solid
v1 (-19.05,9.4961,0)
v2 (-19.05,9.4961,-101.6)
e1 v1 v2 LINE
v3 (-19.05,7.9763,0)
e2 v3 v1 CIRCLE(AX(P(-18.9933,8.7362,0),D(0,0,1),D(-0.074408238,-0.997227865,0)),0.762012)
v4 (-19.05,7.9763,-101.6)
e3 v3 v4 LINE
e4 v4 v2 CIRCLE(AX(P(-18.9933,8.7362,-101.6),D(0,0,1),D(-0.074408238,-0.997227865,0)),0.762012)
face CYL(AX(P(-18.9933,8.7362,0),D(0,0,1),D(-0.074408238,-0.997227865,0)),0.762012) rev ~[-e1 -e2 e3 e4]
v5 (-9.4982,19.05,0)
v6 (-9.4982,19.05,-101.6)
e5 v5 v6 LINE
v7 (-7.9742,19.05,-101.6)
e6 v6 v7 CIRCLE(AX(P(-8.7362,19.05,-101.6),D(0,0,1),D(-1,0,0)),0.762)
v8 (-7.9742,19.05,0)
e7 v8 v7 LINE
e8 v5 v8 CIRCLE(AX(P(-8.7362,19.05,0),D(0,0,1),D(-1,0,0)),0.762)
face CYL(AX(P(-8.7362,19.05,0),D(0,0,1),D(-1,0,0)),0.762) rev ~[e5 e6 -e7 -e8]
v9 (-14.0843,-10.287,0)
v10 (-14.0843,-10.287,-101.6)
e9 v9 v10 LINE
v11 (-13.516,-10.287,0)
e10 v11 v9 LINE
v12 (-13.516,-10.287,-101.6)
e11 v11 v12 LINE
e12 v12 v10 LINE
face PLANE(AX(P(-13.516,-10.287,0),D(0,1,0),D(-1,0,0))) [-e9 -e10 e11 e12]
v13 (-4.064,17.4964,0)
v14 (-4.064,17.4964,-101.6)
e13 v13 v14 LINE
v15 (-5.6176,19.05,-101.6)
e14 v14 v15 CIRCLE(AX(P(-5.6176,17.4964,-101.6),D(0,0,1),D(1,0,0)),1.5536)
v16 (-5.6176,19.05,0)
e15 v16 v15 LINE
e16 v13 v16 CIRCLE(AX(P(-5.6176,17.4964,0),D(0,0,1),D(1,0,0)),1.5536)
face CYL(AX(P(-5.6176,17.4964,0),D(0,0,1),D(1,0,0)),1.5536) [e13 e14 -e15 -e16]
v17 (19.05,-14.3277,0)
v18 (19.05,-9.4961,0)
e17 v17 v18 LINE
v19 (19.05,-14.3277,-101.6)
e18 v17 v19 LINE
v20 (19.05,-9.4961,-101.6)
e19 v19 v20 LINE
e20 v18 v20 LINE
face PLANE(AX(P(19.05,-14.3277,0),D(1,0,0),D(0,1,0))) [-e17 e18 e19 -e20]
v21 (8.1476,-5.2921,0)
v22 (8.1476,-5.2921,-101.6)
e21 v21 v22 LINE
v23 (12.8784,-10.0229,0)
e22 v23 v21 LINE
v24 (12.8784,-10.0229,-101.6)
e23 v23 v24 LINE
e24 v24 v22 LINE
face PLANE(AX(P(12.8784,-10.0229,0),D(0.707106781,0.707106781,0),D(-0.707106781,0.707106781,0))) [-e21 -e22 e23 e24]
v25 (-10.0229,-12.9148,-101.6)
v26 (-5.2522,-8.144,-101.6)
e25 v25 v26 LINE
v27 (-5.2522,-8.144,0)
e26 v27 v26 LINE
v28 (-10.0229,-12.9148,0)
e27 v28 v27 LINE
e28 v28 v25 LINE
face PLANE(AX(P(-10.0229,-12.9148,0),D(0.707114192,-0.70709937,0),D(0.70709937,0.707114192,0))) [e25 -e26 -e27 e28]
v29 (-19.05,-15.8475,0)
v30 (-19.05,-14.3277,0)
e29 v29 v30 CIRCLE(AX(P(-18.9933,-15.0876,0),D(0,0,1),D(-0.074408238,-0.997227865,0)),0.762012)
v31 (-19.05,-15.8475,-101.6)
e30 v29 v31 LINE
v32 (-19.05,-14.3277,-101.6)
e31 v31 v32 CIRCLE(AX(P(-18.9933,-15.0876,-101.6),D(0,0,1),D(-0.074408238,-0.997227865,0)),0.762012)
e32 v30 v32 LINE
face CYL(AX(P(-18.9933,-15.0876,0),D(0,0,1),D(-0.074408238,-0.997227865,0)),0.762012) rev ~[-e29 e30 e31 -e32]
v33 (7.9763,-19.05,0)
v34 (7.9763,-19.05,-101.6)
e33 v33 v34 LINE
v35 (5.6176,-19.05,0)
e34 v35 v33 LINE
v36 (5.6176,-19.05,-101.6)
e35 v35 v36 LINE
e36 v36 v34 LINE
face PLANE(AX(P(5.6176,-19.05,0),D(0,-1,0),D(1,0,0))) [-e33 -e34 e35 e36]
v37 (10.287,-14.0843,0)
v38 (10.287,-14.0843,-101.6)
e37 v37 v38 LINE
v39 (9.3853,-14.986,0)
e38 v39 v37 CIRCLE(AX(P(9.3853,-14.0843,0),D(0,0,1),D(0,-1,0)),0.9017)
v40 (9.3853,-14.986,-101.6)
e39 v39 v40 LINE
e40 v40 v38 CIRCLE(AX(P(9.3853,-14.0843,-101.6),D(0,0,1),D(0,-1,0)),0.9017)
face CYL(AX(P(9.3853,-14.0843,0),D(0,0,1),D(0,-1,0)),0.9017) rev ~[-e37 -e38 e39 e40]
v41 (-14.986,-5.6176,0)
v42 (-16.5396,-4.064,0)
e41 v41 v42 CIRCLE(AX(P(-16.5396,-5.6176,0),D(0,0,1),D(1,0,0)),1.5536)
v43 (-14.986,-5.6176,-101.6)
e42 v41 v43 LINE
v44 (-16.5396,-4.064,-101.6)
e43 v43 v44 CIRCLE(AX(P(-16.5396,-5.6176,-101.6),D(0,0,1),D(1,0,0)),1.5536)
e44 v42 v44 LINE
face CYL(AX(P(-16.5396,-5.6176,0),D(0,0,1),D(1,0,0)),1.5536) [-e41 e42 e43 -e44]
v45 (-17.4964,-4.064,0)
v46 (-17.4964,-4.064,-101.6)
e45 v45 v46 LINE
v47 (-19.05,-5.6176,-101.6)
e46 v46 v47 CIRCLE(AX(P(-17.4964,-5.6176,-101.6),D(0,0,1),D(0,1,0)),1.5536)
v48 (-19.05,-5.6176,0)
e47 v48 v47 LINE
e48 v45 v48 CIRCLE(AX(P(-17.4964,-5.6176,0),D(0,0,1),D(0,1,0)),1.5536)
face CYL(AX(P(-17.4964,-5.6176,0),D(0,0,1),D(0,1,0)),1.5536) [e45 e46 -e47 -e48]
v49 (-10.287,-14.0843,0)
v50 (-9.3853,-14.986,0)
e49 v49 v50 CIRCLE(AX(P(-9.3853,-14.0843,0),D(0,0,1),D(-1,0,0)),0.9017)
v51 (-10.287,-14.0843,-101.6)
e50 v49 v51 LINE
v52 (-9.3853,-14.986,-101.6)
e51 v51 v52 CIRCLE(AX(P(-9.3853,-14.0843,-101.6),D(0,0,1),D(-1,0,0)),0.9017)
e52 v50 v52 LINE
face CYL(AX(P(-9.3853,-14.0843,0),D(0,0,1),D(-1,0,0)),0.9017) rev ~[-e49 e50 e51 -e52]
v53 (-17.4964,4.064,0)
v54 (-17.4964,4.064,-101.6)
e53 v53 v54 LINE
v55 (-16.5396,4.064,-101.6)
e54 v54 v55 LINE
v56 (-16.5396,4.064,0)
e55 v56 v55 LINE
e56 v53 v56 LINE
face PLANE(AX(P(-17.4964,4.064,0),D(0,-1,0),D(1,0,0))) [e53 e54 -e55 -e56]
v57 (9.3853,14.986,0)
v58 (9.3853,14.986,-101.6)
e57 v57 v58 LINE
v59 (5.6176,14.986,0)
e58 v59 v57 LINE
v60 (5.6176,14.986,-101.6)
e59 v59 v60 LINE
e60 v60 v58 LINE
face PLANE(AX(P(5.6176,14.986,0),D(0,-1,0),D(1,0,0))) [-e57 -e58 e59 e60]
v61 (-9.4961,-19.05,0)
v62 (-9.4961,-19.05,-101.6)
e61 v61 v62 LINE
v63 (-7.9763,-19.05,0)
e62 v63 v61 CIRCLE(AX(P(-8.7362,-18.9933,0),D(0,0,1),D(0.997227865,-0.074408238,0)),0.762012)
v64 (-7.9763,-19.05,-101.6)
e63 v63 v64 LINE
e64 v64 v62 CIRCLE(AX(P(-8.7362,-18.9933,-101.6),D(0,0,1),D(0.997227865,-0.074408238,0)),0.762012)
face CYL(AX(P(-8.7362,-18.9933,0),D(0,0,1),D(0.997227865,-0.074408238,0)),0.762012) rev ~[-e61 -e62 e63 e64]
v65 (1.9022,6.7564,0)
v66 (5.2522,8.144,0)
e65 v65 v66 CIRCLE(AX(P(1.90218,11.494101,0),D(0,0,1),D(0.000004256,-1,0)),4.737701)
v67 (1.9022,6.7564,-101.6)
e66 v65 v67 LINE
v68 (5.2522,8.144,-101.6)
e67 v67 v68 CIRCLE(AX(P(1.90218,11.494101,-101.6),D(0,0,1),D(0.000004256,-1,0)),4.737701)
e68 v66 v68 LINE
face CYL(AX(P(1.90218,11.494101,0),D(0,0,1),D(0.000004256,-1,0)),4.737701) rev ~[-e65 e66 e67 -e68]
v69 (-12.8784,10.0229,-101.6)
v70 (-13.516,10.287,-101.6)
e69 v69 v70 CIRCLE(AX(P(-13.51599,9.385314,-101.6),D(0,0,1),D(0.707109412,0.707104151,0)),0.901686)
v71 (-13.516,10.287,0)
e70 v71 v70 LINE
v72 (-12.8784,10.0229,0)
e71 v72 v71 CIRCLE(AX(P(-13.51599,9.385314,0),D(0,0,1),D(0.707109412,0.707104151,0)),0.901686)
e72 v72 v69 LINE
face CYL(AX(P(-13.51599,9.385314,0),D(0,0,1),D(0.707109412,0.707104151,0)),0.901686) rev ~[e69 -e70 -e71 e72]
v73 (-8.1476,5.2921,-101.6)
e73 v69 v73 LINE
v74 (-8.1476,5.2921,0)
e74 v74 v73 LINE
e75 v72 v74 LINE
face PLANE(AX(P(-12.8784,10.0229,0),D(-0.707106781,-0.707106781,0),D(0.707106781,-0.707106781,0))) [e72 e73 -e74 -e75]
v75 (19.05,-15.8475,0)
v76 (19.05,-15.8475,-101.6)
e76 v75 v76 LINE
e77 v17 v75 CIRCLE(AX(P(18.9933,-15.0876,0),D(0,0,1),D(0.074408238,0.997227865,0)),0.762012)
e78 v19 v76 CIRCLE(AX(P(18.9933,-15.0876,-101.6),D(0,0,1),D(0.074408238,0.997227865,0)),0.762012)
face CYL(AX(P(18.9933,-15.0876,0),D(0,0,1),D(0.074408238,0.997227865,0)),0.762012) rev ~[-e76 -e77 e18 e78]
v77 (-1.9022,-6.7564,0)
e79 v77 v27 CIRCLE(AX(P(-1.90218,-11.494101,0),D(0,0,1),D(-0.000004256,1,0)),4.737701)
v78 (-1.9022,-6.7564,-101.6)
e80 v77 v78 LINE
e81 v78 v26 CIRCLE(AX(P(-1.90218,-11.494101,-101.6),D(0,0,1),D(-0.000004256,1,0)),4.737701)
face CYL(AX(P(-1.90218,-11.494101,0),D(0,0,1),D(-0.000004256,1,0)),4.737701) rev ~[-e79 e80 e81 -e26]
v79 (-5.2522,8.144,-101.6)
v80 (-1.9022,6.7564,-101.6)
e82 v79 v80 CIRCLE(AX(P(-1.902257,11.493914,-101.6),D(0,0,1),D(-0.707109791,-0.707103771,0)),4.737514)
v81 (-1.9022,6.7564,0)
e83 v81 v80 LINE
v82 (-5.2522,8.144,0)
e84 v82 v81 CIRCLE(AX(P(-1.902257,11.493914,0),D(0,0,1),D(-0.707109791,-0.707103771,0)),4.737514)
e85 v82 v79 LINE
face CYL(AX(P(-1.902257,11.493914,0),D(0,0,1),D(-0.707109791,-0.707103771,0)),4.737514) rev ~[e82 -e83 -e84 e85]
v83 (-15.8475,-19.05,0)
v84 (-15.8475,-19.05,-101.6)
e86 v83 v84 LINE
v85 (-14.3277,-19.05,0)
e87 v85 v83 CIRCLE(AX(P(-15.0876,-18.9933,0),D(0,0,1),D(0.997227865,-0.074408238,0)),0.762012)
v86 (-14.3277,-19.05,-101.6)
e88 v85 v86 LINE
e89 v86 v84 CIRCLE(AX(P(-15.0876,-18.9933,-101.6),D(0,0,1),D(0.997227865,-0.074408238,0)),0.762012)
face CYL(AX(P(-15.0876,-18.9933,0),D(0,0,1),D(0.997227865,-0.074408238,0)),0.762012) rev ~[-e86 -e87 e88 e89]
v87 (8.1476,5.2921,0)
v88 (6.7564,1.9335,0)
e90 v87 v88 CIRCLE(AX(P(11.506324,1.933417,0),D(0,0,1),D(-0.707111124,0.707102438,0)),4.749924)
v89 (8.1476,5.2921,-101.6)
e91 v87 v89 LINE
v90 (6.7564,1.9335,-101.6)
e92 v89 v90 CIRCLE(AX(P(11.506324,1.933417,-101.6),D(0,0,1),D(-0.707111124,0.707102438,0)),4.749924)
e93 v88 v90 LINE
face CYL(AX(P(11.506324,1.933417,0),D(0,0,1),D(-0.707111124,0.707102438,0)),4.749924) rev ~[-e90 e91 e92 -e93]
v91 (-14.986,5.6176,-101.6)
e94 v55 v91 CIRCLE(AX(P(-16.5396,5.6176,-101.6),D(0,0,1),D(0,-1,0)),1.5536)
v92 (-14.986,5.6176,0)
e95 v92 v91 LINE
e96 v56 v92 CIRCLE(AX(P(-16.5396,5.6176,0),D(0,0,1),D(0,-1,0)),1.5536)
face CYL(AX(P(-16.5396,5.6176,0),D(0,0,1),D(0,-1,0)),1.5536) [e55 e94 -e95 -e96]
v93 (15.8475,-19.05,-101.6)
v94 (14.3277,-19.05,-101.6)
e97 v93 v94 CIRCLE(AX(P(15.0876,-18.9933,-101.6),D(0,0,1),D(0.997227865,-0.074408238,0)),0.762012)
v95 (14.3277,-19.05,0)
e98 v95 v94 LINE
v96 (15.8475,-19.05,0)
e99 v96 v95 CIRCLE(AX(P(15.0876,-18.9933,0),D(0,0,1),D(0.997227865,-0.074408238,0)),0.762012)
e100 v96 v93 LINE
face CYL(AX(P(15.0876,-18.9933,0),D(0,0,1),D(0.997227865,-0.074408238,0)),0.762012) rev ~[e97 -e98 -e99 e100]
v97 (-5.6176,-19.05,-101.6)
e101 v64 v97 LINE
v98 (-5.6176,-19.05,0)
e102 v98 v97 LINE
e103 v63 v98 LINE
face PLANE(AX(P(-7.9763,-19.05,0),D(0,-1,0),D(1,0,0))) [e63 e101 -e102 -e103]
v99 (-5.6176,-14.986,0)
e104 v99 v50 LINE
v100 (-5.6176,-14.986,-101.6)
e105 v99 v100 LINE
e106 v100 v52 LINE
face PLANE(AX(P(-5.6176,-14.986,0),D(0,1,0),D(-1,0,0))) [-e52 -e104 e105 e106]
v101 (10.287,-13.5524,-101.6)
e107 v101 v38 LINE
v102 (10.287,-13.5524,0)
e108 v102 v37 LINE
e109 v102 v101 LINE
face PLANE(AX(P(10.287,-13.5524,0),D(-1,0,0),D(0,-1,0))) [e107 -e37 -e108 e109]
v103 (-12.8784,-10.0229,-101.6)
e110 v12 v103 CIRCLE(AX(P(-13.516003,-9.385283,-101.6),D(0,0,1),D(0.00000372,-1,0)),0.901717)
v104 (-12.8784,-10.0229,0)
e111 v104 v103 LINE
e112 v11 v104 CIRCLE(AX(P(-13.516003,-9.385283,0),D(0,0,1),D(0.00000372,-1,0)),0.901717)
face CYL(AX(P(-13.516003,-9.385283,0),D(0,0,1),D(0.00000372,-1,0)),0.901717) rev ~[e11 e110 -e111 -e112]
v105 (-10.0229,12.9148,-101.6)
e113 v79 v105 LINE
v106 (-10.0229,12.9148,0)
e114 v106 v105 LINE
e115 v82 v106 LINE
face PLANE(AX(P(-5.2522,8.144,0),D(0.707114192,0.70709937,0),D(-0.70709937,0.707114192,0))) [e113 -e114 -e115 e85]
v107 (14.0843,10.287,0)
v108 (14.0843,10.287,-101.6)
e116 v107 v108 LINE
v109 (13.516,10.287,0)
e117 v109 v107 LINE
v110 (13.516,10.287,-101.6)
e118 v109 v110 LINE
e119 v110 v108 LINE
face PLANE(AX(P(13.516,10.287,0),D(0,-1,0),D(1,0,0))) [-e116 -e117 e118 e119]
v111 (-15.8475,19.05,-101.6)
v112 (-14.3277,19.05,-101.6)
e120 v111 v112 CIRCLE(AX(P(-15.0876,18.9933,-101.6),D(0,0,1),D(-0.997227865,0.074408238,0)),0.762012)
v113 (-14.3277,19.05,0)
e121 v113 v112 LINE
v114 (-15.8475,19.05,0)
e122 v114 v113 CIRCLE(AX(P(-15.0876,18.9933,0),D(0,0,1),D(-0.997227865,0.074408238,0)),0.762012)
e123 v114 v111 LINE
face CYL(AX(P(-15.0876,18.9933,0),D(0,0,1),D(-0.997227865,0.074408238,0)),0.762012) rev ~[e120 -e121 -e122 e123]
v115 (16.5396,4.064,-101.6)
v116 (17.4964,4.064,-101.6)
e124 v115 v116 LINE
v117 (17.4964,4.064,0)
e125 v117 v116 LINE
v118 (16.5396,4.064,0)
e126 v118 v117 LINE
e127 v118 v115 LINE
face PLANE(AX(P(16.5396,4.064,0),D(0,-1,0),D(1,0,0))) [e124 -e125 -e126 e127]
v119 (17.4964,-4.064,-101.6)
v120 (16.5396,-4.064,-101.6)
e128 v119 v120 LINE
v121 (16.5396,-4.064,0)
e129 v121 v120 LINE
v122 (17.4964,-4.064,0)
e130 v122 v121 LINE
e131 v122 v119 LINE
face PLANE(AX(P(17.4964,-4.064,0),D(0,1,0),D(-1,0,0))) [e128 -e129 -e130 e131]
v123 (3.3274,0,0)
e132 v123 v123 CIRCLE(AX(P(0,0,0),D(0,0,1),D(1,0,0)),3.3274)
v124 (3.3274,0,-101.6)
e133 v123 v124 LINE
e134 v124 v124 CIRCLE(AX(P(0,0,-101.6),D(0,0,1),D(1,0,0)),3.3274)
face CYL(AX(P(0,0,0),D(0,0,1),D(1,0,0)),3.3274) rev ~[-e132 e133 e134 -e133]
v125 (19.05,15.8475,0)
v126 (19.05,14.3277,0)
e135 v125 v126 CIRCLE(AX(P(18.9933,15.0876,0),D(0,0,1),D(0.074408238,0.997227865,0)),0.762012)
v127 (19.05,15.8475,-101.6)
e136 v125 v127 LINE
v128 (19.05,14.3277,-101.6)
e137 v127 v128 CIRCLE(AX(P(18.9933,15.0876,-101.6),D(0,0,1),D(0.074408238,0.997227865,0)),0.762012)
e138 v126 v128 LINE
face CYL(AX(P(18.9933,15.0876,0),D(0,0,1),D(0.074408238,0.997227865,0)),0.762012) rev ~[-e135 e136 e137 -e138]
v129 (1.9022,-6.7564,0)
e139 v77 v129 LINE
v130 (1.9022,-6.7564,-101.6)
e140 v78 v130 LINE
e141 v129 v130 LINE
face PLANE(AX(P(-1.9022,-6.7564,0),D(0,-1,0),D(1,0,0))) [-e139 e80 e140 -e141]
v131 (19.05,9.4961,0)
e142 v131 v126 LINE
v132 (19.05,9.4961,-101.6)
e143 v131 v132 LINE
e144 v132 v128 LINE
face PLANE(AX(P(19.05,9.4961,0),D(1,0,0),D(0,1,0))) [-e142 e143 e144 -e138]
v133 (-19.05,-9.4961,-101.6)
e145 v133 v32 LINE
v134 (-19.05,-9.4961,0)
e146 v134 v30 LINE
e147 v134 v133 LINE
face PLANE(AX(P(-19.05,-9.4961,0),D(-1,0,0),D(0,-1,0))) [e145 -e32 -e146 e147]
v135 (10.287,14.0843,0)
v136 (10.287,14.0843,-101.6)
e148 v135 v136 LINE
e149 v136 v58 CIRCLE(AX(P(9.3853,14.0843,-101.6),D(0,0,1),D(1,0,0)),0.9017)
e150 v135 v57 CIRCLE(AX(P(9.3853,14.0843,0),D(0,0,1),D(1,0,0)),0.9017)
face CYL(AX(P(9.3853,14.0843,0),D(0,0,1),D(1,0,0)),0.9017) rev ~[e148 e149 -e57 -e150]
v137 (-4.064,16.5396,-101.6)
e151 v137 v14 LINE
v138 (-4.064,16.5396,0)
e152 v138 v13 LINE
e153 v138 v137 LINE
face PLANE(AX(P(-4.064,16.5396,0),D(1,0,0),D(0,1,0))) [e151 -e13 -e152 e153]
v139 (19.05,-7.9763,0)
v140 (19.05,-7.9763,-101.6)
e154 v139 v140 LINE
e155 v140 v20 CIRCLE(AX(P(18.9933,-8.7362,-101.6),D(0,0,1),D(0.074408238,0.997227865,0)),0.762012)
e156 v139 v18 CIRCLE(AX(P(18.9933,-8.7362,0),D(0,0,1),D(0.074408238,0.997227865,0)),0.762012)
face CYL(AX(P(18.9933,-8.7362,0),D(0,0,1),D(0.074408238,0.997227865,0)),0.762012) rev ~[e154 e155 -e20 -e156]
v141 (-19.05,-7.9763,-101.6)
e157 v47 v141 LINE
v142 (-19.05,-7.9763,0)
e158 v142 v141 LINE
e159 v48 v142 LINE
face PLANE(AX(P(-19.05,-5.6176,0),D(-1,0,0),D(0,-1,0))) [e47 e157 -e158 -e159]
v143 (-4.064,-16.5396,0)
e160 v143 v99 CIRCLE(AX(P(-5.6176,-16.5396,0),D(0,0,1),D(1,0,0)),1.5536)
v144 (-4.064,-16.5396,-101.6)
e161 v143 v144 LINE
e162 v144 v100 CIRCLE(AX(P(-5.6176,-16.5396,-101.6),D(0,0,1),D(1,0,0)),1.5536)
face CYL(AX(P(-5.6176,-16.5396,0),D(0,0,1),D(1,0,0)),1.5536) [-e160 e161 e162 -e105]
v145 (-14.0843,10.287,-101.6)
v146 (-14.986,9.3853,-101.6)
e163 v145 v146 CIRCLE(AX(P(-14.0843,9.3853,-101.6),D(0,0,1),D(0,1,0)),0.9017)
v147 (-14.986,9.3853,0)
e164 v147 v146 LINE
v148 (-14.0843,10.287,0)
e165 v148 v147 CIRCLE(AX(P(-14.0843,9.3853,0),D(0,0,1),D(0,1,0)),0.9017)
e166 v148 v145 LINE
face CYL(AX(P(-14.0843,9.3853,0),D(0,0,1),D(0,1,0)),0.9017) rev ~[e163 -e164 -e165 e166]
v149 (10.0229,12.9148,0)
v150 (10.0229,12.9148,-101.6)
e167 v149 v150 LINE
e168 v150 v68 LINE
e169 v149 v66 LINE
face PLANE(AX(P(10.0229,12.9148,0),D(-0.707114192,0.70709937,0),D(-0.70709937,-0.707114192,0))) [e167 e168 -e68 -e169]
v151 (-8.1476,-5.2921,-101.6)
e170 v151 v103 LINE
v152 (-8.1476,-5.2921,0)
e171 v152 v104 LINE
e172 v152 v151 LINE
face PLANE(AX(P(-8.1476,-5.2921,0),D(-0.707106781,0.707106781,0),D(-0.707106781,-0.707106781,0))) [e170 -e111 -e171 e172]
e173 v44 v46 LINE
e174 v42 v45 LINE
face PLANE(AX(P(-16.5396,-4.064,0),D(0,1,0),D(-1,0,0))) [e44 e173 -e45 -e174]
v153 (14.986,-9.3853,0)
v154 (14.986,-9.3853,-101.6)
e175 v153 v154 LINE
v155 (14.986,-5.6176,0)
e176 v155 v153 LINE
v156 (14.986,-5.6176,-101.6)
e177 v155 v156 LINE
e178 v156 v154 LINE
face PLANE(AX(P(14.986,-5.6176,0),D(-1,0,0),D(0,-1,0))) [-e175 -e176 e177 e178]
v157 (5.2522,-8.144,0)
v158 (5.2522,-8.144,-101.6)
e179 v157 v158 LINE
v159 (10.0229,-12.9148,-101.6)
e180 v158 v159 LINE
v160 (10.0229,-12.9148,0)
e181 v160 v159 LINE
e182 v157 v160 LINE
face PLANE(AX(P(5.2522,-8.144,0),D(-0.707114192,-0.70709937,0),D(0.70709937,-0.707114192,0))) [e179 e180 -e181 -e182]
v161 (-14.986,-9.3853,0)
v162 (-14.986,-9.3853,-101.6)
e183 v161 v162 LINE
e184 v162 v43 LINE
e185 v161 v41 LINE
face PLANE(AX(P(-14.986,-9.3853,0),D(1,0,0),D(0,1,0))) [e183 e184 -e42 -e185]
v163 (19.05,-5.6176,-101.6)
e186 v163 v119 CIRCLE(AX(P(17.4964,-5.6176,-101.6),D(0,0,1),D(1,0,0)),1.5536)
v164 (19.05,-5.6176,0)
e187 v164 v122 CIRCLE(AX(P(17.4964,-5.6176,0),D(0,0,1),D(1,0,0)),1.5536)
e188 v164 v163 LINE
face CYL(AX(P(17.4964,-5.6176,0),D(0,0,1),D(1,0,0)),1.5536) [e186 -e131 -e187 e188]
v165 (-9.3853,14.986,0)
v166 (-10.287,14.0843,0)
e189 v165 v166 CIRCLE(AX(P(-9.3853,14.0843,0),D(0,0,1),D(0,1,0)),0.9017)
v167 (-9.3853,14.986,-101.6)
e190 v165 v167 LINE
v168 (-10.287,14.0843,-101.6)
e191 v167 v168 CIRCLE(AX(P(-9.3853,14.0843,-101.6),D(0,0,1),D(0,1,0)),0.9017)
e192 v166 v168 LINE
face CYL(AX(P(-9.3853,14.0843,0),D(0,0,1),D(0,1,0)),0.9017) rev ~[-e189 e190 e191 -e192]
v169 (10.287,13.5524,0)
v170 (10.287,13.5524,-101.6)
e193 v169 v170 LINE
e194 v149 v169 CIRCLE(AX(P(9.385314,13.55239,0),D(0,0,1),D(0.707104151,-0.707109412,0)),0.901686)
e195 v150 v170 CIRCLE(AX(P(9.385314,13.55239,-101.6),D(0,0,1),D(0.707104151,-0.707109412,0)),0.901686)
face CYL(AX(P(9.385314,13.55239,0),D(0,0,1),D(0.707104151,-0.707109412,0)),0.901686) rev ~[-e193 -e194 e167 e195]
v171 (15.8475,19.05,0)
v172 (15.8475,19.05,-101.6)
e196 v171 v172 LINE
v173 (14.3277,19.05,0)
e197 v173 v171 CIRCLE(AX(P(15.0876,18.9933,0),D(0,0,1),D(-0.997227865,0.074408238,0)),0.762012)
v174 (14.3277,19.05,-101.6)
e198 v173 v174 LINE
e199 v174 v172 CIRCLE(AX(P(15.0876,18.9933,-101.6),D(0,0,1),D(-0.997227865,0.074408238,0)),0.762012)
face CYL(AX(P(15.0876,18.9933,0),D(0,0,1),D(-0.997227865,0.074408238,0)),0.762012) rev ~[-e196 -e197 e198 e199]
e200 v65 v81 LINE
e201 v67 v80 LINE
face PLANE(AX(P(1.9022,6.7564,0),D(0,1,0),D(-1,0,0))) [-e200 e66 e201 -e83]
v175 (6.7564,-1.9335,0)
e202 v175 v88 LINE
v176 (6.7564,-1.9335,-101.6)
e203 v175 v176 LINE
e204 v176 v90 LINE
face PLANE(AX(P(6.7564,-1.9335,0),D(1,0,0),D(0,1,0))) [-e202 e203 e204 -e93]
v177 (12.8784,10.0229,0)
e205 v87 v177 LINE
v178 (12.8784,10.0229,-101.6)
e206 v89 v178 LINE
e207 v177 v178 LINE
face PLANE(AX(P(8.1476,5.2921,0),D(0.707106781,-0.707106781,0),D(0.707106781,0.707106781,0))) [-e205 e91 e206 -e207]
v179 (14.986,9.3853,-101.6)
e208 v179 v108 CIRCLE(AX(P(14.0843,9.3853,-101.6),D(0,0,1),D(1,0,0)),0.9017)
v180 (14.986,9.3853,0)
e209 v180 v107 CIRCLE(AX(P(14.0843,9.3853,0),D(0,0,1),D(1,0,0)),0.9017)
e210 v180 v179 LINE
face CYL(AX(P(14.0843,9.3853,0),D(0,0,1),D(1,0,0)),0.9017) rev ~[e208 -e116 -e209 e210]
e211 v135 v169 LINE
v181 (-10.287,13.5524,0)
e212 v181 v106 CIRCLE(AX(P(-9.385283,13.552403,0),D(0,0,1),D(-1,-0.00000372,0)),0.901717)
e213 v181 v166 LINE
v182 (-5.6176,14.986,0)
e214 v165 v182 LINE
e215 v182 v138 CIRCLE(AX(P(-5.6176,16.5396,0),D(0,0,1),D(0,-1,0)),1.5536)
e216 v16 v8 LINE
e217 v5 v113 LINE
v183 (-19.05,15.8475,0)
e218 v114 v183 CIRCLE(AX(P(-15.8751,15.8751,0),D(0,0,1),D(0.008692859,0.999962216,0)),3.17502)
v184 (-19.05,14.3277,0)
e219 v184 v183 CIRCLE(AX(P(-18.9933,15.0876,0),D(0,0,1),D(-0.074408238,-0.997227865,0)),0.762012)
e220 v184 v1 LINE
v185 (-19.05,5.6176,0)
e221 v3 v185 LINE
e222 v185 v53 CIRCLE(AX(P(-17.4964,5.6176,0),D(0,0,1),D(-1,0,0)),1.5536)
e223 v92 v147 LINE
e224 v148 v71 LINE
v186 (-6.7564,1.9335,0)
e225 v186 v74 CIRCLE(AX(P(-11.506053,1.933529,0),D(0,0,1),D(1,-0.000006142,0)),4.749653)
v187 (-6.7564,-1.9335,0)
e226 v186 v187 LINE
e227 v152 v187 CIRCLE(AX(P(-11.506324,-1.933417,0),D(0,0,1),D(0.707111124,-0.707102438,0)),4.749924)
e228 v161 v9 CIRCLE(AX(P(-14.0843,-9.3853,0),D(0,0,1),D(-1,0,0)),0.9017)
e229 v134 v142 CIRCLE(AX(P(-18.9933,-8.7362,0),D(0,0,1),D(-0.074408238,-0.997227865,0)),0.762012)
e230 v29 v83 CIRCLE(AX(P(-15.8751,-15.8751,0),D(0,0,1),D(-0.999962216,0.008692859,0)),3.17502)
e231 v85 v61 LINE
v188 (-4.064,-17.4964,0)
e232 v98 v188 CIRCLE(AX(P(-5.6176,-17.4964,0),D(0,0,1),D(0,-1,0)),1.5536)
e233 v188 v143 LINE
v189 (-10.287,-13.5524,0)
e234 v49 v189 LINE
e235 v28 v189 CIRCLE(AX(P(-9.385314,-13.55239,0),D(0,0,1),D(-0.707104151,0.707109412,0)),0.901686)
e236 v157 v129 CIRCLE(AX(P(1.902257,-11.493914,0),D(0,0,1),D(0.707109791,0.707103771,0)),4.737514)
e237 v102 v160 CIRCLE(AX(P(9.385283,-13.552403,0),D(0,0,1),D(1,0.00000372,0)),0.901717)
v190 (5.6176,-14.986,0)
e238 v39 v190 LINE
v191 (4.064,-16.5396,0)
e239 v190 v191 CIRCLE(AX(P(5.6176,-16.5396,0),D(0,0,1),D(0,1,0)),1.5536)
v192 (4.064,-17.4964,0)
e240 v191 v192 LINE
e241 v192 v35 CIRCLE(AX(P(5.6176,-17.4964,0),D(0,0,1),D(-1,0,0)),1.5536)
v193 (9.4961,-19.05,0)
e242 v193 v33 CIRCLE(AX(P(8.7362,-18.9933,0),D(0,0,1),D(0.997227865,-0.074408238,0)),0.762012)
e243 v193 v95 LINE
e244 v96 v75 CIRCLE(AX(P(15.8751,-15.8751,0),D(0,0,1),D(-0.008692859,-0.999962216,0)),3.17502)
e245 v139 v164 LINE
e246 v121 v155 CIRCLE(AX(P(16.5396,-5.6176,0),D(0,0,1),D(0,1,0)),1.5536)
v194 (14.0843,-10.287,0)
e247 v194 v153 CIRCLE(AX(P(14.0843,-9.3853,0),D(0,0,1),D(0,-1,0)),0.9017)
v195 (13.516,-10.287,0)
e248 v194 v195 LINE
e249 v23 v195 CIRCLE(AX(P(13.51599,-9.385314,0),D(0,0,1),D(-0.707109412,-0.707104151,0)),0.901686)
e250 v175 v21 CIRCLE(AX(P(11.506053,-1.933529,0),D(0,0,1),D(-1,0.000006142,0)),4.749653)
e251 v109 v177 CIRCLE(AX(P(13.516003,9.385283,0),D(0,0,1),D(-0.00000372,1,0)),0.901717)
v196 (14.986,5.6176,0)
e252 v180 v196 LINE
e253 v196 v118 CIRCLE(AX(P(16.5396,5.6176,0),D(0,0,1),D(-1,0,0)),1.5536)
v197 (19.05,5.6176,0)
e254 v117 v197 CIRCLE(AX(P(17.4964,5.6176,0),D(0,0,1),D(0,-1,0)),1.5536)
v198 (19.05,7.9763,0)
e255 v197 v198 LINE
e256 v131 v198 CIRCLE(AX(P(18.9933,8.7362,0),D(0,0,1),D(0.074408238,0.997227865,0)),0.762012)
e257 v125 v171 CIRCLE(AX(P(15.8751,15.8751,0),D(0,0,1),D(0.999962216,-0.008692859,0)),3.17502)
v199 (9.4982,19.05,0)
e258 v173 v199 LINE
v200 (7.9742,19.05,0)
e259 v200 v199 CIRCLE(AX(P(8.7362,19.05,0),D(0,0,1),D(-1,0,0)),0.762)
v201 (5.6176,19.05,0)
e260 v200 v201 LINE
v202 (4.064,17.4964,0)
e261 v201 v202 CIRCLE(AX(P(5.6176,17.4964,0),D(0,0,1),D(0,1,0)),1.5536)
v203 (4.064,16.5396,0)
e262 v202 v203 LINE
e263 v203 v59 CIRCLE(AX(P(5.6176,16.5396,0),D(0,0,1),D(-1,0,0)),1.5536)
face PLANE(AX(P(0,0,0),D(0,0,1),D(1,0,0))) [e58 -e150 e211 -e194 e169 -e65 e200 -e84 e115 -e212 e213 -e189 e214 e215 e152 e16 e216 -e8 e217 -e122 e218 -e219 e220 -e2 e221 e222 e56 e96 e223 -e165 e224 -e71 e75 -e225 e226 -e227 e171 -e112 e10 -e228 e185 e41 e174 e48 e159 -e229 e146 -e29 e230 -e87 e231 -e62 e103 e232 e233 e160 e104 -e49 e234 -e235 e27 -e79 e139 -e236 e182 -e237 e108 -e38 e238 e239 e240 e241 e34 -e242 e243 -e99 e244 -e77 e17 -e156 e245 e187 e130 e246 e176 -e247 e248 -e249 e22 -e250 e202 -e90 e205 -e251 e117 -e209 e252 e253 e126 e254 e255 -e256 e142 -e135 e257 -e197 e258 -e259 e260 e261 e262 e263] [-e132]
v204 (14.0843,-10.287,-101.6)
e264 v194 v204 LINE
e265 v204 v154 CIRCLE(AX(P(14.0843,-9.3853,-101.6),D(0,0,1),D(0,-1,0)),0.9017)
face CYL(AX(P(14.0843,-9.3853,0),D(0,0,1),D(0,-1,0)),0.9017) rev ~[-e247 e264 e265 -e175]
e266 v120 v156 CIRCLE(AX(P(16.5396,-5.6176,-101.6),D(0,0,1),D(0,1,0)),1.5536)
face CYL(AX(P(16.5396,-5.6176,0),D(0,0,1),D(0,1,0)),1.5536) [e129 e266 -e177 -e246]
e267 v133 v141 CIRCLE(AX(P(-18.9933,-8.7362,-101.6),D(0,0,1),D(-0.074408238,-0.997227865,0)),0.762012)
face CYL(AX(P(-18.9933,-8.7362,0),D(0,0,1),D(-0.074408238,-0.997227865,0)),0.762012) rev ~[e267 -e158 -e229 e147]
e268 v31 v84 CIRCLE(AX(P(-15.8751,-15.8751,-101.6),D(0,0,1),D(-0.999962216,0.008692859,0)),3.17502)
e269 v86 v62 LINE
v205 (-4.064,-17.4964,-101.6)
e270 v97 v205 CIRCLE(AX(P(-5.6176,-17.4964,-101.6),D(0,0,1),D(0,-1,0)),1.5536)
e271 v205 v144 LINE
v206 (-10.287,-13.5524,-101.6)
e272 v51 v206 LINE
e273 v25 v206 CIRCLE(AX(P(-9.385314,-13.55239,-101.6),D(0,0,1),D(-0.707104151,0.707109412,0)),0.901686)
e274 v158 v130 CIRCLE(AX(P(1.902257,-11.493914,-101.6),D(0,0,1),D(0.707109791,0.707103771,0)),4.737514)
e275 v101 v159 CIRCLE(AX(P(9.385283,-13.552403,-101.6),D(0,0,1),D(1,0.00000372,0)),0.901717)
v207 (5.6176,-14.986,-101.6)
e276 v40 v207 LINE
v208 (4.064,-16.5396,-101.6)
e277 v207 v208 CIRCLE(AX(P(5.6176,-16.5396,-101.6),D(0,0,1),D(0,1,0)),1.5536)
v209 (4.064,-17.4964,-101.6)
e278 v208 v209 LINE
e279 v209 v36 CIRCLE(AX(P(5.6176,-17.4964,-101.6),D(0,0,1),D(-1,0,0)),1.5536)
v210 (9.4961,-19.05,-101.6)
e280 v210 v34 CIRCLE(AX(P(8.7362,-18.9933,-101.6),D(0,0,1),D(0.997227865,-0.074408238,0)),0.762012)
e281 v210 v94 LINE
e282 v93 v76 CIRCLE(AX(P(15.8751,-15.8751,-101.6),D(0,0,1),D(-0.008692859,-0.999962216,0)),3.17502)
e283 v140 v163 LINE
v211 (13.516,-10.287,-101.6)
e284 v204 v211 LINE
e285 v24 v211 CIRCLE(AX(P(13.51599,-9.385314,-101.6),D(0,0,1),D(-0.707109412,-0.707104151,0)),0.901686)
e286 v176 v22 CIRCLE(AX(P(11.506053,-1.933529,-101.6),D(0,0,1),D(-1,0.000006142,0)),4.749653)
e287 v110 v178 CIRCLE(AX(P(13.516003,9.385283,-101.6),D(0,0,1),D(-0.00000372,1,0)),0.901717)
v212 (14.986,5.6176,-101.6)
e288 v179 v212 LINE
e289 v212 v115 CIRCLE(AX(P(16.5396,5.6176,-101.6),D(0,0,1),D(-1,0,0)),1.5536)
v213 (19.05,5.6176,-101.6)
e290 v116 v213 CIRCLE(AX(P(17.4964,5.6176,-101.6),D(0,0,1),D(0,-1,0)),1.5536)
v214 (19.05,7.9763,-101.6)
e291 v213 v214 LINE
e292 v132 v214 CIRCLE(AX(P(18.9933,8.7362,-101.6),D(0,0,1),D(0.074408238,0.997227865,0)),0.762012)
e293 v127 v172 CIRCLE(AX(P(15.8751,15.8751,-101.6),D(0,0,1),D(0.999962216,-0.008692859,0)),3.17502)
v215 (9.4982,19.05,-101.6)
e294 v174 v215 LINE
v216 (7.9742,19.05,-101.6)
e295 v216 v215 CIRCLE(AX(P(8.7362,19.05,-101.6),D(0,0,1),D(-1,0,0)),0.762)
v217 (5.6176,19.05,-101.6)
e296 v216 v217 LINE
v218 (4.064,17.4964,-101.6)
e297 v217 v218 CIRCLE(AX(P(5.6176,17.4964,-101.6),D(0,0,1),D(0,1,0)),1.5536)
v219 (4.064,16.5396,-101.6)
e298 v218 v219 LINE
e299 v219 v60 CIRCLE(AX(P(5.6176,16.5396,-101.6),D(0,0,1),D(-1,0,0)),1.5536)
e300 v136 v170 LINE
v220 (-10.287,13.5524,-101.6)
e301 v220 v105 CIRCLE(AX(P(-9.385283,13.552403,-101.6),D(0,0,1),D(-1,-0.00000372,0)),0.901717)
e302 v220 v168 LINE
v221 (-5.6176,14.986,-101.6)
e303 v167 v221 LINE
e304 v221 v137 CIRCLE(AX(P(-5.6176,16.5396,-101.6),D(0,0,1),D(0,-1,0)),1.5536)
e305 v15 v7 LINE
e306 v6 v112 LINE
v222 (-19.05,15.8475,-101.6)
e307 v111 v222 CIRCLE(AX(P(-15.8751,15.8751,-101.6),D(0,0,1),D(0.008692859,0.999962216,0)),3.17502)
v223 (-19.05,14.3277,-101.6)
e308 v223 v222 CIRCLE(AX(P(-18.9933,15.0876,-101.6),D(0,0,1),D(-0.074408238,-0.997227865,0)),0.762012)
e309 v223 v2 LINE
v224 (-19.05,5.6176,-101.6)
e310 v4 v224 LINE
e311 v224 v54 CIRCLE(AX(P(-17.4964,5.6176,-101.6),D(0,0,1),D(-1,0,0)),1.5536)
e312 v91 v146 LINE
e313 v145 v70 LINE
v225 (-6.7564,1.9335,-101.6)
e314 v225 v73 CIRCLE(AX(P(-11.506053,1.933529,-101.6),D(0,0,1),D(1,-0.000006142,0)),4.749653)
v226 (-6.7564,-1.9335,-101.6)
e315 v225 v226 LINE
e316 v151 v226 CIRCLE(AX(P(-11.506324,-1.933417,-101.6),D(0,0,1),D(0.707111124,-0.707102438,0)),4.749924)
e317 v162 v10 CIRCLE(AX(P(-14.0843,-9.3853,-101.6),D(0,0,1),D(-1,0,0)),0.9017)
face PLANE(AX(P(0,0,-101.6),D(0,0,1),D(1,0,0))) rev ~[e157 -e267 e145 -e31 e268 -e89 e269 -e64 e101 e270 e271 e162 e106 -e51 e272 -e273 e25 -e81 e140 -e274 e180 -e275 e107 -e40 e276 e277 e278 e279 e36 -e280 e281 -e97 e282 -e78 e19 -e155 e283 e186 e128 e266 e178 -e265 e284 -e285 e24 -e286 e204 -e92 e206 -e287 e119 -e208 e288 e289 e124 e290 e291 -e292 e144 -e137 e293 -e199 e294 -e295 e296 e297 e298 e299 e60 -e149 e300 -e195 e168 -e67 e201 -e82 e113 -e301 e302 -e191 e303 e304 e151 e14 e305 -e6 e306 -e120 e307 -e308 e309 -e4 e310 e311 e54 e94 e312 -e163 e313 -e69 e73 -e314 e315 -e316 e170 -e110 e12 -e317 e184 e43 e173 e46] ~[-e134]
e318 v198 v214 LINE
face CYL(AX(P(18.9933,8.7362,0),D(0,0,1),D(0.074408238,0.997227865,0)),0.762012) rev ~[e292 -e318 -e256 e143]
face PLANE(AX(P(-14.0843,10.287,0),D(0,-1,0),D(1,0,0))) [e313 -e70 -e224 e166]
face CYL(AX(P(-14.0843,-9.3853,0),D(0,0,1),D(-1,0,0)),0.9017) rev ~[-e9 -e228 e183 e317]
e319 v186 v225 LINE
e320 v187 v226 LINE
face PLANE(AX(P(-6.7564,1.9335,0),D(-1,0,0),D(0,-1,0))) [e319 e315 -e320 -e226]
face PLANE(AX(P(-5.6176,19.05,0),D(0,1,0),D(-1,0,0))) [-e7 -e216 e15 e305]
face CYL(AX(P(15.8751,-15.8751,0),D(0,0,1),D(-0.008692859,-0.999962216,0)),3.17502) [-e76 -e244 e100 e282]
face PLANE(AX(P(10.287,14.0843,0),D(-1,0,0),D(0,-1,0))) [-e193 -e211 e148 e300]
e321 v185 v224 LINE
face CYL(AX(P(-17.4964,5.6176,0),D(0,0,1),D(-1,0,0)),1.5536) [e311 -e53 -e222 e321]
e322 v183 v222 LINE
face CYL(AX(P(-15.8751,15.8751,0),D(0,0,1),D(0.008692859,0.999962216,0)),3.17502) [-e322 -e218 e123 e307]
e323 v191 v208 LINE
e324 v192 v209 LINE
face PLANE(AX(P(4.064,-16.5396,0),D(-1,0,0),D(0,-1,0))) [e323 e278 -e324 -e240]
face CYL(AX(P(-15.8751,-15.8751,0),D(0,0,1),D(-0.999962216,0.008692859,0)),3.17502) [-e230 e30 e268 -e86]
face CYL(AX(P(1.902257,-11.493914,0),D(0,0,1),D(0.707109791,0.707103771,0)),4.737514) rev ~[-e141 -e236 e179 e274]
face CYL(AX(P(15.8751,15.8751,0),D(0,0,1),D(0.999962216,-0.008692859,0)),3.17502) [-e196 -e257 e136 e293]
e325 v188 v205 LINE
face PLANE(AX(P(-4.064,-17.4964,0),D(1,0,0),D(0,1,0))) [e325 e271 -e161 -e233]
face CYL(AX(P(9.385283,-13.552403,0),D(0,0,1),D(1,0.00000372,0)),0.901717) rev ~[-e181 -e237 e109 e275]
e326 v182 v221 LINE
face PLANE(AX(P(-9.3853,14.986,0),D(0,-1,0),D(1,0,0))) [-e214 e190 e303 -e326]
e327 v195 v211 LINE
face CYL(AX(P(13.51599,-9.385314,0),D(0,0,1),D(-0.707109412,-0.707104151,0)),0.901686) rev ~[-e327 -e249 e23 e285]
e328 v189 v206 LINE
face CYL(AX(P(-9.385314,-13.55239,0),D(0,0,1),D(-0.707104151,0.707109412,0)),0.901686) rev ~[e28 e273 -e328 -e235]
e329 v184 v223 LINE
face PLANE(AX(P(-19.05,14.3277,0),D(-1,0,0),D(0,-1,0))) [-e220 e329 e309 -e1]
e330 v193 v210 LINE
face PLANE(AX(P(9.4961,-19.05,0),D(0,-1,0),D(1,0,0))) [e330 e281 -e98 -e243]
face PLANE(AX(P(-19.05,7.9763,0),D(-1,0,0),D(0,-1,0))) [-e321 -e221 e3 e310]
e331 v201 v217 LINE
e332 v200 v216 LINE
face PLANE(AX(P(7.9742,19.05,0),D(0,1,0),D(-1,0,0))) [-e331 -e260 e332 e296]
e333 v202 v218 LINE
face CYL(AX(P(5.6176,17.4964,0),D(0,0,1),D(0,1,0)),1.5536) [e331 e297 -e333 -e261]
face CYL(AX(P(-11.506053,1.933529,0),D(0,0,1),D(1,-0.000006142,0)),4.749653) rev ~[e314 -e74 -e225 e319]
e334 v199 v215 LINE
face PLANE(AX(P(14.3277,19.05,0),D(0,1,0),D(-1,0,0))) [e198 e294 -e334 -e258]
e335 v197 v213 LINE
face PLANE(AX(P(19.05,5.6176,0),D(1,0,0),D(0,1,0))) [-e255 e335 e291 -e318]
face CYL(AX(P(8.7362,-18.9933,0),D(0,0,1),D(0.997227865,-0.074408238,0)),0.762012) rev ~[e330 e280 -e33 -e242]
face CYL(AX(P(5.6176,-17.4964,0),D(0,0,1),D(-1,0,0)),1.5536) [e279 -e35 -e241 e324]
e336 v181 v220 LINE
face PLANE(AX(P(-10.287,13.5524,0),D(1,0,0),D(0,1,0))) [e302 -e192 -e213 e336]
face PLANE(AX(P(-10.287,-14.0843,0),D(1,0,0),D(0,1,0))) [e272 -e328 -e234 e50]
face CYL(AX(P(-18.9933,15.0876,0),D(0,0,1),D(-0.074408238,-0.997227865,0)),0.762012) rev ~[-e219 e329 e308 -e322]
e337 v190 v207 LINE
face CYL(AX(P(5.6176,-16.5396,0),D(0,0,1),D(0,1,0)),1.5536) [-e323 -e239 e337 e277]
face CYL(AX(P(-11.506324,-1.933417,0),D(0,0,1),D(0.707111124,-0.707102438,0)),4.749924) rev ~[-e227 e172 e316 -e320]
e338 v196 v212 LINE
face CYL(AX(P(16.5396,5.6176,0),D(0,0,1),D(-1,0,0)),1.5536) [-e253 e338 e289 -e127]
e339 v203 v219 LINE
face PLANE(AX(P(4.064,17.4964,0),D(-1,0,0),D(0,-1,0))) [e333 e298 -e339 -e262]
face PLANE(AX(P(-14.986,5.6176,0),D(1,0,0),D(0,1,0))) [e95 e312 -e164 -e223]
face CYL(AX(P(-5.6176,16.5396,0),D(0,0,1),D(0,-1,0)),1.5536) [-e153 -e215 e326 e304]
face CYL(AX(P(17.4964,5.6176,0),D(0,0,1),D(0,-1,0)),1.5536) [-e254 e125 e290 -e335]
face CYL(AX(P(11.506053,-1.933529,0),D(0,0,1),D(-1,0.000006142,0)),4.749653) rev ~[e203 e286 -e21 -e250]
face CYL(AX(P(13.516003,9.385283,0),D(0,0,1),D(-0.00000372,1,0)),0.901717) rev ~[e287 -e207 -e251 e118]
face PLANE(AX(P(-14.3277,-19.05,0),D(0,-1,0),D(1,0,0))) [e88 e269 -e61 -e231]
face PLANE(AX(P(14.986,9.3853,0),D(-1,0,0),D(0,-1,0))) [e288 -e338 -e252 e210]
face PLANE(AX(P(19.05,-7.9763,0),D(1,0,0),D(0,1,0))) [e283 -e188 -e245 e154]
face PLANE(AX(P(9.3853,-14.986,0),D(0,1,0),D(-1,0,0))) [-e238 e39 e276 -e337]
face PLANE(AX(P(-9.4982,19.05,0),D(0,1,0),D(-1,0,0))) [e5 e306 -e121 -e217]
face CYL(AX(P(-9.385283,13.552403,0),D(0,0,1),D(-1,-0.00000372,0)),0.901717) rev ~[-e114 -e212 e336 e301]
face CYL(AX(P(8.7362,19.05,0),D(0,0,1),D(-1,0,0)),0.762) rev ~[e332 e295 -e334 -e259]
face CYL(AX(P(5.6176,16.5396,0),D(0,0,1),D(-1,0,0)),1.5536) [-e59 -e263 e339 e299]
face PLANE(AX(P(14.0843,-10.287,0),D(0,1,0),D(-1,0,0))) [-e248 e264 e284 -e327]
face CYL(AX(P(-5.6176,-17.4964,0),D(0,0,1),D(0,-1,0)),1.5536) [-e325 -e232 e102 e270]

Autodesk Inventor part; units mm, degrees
sketch "Sketch_1" plane through (0, 0, 0) normal (0, 0, 1) x (1, 0, 0)
  arc A0 (-15.8475, 19.05) -> (-19.05, 15.8475) centre (-15.8751, 15.8751) ccw
  arc A1 (-19.05, 14.3277) -> (-19.05, 15.8475) centre (-18.9933, 15.0876) ccw
  line L0 (-19.05, 14.3277) -> (-19.05, 9.4961)
  arc A2 (-19.05, 7.9763) -> (-19.05, 9.4961) centre (-18.9933, 8.7362) ccw
  line L1 (-19.05, 7.9763) -> (-19.05, 5.6176)
  arc A3 (-19.05, 5.6176) -> (-17.4964, 4.064) centre (-17.4964, 5.6176) ccw
  line L2 (-17.4964, 4.064) -> (-16.5396, 4.064)
  arc A4 (-16.5396, 4.064) -> (-14.986, 5.6176) centre (-16.5396, 5.6176) ccw
  line L3 (-14.986, 5.6176) -> (-14.986, 9.3853)
  arc A5 (-14.0843, 10.287) -> (-14.986, 9.3853) centre (-14.0843, 9.3853) ccw
  line L4 (-14.0843, 10.287) -> (-13.516, 10.287)
  arc A6 (-12.8784, 10.0229) -> (-13.516, 10.287) centre (-13.516, 9.3853) ccw
  line L5 (-12.8784, 10.0229) -> (-8.1476, 5.2921)
  arc A7 (-6.7564, 1.9335) -> (-8.1476, 5.2921) centre (-11.5062, 1.9335) ccw
  line L6 (-6.7564, 1.9335) -> (-6.7564, -1.9335)
  arc A8 (-8.1476, -5.2921) -> (-6.7564, -1.9335) centre (-11.5062, -1.9335) ccw
  line L7 (-8.1476, -5.2921) -> (-12.8784, -10.0229)
  arc A9 (-13.516, -10.287) -> (-12.8784, -10.0229) centre (-13.516, -9.3853) ccw
  line L8 (-13.516, -10.287) -> (-14.0843, -10.287)
  arc A10 (-14.986, -9.3853) -> (-14.0843, -10.287) centre (-14.0843, -9.3853) ccw
  line L9 (-14.986, -9.3853) -> (-14.986, -5.6176)
  arc A11 (-14.986, -5.6176) -> (-16.5396, -4.064) centre (-16.5396, -5.6176) ccw
  line L10 (-16.5396, -4.064) -> (-17.4964, -4.064)
  arc A12 (-17.4964, -4.064) -> (-19.05, -5.6176) centre (-17.4964, -5.6176) ccw
  line L11 (-19.05, -5.6176) -> (-19.05, -7.9763)
  arc A13 (-19.05, -9.4961) -> (-19.05, -7.9763) centre (-18.9933, -8.7362) ccw
  line L12 (-19.05, -9.4961) -> (-19.05, -14.3277)
  arc A14 (-19.05, -15.8475) -> (-19.05, -14.3277) centre (-18.9933, -15.0876) ccw
  arc A15 (-19.05, -15.8475) -> (-15.8475, -19.05) centre (-15.8751, -15.8751) ccw
  arc A16 (-14.3277, -19.05) -> (-15.8475, -19.05) centre (-15.0876, -18.9933) ccw
  line L13 (-14.3277, -19.05) -> (-9.4961, -19.05)
  arc A17 (-7.9763, -19.05) -> (-9.4961, -19.05) centre (-8.7362, -18.9933) ccw
  line L14 (-7.9763, -19.05) -> (-5.6176, -19.05)
  arc A18 (-5.6176, -19.05) -> (-4.064, -17.4964) centre (-5.6176, -17.4964) ccw
  line L15 (-4.064, -17.4964) -> (-4.064, -16.5396)
  arc A19 (-4.064, -16.5396) -> (-5.6176, -14.986) centre (-5.6176, -16.5396) ccw
  line L16 (-5.6176, -14.986) -> (-9.3853, -14.986)
  arc A20 (-10.287, -14.0843) -> (-9.3853, -14.986) centre (-9.3853, -14.0843) ccw
  line L17 (-10.287, -14.0843) -> (-10.287, -13.5524)
  arc A21 (-10.0229, -12.9148) -> (-10.287, -13.5524) centre (-9.3853, -13.5524) ccw
  line L18 (-10.0229, -12.9148) -> (-5.2522, -8.144)
  arc A22 (-1.9022, -6.7564) -> (-5.2522, -8.144) centre (-1.9022, -11.494) ccw
  line L19 (-1.9022, -6.7564) -> (1.9022, -6.7564)
  arc A23 (5.2522, -8.144) -> (1.9022, -6.7564) centre (1.9022, -11.494) ccw
  line L20 (5.2522, -8.144) -> (10.0229, -12.9148)
  arc A24 (10.287, -13.5524) -> (10.0229, -12.9148) centre (9.3853, -13.5524) ccw
  line L21 (10.287, -13.5524) -> (10.287, -14.0843)
  arc A25 (9.3853, -14.986) -> (10.287, -14.0843) centre (9.3853, -14.0843) ccw
  line L22 (9.3853, -14.986) -> (5.6176, -14.986)
  arc A26 (5.6176, -14.986) -> (4.064, -16.5396) centre (5.6176, -16.5396) ccw
  line L23 (4.064, -16.5396) -> (4.064, -17.4964)
  arc A27 (4.064, -17.4964) -> (5.6176, -19.05) centre (5.6176, -17.4964) ccw
  line L24 (5.6176, -19.05) -> (7.9763, -19.05)
  arc A28 (9.4961, -19.05) -> (7.9763, -19.05) centre (8.7362, -18.9933) ccw
  line L25 (9.4961, -19.05) -> (14.3277, -19.05)
  arc A29 (15.8475, -19.05) -> (14.3277, -19.05) centre (15.0876, -18.9933) ccw
  arc A30 (15.8475, -19.05) -> (19.05, -15.8475) centre (15.8751, -15.8751) ccw
  arc A31 (19.05, -14.3277) -> (19.05, -15.8475) centre (18.9933, -15.0876) ccw
  line L26 (19.05, -14.3277) -> (19.05, -9.4961)
  arc A32 (19.05, -7.9763) -> (19.05, -9.4961) centre (18.9933, -8.7362) ccw
  line L27 (19.05, -7.9763) -> (19.05, -5.6176)
  arc A33 (19.05, -5.6176) -> (17.4964, -4.064) centre (17.4964, -5.6176) ccw
  line L28 (17.4964, -4.064) -> (16.5396, -4.064)
  arc A34 (16.5396, -4.064) -> (14.986, -5.6176) centre (16.5396, -5.6176) ccw
  line L29 (14.986, -5.6176) -> (14.986, -9.3853)
  arc A35 (14.0843, -10.287) -> (14.986, -9.3853) centre (14.0843, -9.3853) ccw
  line L30 (14.0843, -10.287) -> (13.516, -10.287)
  arc A36 (12.8784, -10.0229) -> (13.516, -10.287) centre (13.516, -9.3853) ccw
  line L31 (12.8784, -10.0229) -> (8.1476, -5.2921)
  arc A37 (6.7564, -1.9335) -> (8.1476, -5.2921) centre (11.5062, -1.9335) ccw
  line L32 (6.7564, -1.9335) -> (6.7564, 1.9335)
  arc A38 (8.1476, 5.2921) -> (6.7564, 1.9335) centre (11.5062, 1.9335) ccw
  line L33 (8.1476, 5.2921) -> (12.8784, 10.0229)
  arc A39 (13.516, 10.287) -> (12.8784, 10.0229) centre (13.516, 9.3853) ccw
  line L34 (13.516, 10.287) -> (14.0843, 10.287)
  arc A40 (14.986, 9.3853) -> (14.0843, 10.287) centre (14.0843, 9.3853) ccw
  line L35 (14.986, 9.3853) -> (14.986, 5.6176)
  arc A41 (14.986, 5.6176) -> (16.5396, 4.064) centre (16.5396, 5.6176) ccw
  line L36 (16.5396, 4.064) -> (17.4964, 4.064)
  arc A42 (17.4964, 4.064) -> (19.05, 5.6176) centre (17.4964, 5.6176) ccw
  line L37 (19.05, 5.6176) -> (19.05, 7.9763)
  arc A43 (19.05, 9.4961) -> (19.05, 7.9763) centre (18.9933, 8.7362) ccw
  line L38 (19.05, 9.4961) -> (19.05, 14.3277)
  arc A44 (19.05, 15.8475) -> (19.05, 14.3277) centre (18.9933, 15.0876) ccw
  arc A45 (19.05, 15.8475) -> (15.8475, 19.05) centre (15.8751, 15.8751) ccw
  arc A46 (14.3277, 19.05) -> (15.8475, 19.05) centre (15.0876, 18.9933) ccw
  line L39 (14.3277, 19.05) -> (9.4982, 19.05)
  arc A47 (7.9742, 19.05) -> (9.4982, 19.05) centre (8.7362, 19.05) ccw
  line L40 (7.9742, 19.05) -> (5.6176, 19.05)
  arc A48 (5.6176, 19.05) -> (4.064, 17.4964) centre (5.6176, 17.4964) ccw
  line L41 (4.064, 17.4964) -> (4.064, 16.5396)
  arc A49 (4.064, 16.5396) -> (5.6176, 14.986) centre (5.6176, 16.5396) ccw
  line L42 (5.6176, 14.986) -> (9.3853, 14.986)
  arc A50 (10.287, 14.0843) -> (9.3853, 14.986) centre (9.3853, 14.0843) ccw
  line L43 (10.287, 14.0843) -> (10.287, 13.5524)
  arc A51 (10.0229, 12.9148) -> (10.287, 13.5524) centre (9.3853, 13.5524) ccw
  line L44 (10.0229, 12.9148) -> (5.2522, 8.144)
  arc A52 (1.9022, 6.7564) -> (5.2522, 8.144) centre (1.9022, 11.494) ccw
  line L45 (1.9022, 6.7564) -> (-1.9022, 6.7564)
  arc A53 (-5.2522, 8.144) -> (-1.9022, 6.7564) centre (-1.9022, 11.494) ccw
  line L46 (-5.2522, 8.144) -> (-10.0229, 12.9148)
  arc A54 (-10.287, 13.5524) -> (-10.0229, 12.9148) centre (-9.3853, 13.5524) ccw
  line L47 (-10.287, 13.5524) -> (-10.287, 14.0843)
  arc A55 (-9.3853, 14.986) -> (-10.287, 14.0843) centre (-9.3853, 14.0843) ccw
  line L48 (-9.3853, 14.986) -> (-5.6176, 14.986)
  arc A56 (-5.6176, 14.986) -> (-4.064, 16.5396) centre (-5.6176, 16.5396) ccw
  line L49 (-4.064, 16.5396) -> (-4.064, 17.4964)
  arc A57 (-4.064, 17.4964) -> (-5.6176, 19.05) centre (-5.6176, 17.4964) ccw
  line L50 (-5.6176, 19.05) -> (-7.9742, 19.05)
  arc A58 (-9.4982, 19.05) -> (-7.9742, 19.05) centre (-8.7362, 19.05) ccw
  line L51 (-9.4982, 19.05) -> (-14.3277, 19.05)
  arc A59 (-15.8475, 19.05) -> (-14.3277, 19.05) centre (-15.0876, 18.9933) ccw
  circle A60 centre (0, 0) radius 3.3274
extrude "Extrusion1" add sketch "Sketch_1" against normal blind 101.6
ref_plane "b1_XY" through (-19.05, 0, -25.4) normal (1, 0, 0) x (0, 0, -1)
ref_plane "b1_YZ" through (-19.05, 0, -25.4) normal (0, 0, -1) x (0, 1, 0)
ref_plane "b1_ZX" through (-19.05, 0, -25.4) normal (0, 1, 0) x (1, 0, 0)
ref_plane "b2_XY" through (19.05, 0, -25.4) normal (1, 0, 0) x (0, 0, -1)
ref_plane "b2_YZ" through (19.05, 0, -25.4) normal (0, 0, -1) x (0, 1, 0)
ref_plane "b2_ZX" through (19.05, 0, -25.4) normal (0, 1, 0) x (1, 0, 0)
ref_plane "profile1515_XY" through (0, 0, -25.4) normal (0, 0, 1) x (1, 0, 0)
ref_plane "profile1515_YZ" through (0, 0, -25.4) normal (1, 0, 0) x (0, 1, 0)
ref_plane "profile1515_ZX" through (0, 0, -25.4) normal (0, 1, 0) x (0, 0, 1)
properties part number "Leg"
